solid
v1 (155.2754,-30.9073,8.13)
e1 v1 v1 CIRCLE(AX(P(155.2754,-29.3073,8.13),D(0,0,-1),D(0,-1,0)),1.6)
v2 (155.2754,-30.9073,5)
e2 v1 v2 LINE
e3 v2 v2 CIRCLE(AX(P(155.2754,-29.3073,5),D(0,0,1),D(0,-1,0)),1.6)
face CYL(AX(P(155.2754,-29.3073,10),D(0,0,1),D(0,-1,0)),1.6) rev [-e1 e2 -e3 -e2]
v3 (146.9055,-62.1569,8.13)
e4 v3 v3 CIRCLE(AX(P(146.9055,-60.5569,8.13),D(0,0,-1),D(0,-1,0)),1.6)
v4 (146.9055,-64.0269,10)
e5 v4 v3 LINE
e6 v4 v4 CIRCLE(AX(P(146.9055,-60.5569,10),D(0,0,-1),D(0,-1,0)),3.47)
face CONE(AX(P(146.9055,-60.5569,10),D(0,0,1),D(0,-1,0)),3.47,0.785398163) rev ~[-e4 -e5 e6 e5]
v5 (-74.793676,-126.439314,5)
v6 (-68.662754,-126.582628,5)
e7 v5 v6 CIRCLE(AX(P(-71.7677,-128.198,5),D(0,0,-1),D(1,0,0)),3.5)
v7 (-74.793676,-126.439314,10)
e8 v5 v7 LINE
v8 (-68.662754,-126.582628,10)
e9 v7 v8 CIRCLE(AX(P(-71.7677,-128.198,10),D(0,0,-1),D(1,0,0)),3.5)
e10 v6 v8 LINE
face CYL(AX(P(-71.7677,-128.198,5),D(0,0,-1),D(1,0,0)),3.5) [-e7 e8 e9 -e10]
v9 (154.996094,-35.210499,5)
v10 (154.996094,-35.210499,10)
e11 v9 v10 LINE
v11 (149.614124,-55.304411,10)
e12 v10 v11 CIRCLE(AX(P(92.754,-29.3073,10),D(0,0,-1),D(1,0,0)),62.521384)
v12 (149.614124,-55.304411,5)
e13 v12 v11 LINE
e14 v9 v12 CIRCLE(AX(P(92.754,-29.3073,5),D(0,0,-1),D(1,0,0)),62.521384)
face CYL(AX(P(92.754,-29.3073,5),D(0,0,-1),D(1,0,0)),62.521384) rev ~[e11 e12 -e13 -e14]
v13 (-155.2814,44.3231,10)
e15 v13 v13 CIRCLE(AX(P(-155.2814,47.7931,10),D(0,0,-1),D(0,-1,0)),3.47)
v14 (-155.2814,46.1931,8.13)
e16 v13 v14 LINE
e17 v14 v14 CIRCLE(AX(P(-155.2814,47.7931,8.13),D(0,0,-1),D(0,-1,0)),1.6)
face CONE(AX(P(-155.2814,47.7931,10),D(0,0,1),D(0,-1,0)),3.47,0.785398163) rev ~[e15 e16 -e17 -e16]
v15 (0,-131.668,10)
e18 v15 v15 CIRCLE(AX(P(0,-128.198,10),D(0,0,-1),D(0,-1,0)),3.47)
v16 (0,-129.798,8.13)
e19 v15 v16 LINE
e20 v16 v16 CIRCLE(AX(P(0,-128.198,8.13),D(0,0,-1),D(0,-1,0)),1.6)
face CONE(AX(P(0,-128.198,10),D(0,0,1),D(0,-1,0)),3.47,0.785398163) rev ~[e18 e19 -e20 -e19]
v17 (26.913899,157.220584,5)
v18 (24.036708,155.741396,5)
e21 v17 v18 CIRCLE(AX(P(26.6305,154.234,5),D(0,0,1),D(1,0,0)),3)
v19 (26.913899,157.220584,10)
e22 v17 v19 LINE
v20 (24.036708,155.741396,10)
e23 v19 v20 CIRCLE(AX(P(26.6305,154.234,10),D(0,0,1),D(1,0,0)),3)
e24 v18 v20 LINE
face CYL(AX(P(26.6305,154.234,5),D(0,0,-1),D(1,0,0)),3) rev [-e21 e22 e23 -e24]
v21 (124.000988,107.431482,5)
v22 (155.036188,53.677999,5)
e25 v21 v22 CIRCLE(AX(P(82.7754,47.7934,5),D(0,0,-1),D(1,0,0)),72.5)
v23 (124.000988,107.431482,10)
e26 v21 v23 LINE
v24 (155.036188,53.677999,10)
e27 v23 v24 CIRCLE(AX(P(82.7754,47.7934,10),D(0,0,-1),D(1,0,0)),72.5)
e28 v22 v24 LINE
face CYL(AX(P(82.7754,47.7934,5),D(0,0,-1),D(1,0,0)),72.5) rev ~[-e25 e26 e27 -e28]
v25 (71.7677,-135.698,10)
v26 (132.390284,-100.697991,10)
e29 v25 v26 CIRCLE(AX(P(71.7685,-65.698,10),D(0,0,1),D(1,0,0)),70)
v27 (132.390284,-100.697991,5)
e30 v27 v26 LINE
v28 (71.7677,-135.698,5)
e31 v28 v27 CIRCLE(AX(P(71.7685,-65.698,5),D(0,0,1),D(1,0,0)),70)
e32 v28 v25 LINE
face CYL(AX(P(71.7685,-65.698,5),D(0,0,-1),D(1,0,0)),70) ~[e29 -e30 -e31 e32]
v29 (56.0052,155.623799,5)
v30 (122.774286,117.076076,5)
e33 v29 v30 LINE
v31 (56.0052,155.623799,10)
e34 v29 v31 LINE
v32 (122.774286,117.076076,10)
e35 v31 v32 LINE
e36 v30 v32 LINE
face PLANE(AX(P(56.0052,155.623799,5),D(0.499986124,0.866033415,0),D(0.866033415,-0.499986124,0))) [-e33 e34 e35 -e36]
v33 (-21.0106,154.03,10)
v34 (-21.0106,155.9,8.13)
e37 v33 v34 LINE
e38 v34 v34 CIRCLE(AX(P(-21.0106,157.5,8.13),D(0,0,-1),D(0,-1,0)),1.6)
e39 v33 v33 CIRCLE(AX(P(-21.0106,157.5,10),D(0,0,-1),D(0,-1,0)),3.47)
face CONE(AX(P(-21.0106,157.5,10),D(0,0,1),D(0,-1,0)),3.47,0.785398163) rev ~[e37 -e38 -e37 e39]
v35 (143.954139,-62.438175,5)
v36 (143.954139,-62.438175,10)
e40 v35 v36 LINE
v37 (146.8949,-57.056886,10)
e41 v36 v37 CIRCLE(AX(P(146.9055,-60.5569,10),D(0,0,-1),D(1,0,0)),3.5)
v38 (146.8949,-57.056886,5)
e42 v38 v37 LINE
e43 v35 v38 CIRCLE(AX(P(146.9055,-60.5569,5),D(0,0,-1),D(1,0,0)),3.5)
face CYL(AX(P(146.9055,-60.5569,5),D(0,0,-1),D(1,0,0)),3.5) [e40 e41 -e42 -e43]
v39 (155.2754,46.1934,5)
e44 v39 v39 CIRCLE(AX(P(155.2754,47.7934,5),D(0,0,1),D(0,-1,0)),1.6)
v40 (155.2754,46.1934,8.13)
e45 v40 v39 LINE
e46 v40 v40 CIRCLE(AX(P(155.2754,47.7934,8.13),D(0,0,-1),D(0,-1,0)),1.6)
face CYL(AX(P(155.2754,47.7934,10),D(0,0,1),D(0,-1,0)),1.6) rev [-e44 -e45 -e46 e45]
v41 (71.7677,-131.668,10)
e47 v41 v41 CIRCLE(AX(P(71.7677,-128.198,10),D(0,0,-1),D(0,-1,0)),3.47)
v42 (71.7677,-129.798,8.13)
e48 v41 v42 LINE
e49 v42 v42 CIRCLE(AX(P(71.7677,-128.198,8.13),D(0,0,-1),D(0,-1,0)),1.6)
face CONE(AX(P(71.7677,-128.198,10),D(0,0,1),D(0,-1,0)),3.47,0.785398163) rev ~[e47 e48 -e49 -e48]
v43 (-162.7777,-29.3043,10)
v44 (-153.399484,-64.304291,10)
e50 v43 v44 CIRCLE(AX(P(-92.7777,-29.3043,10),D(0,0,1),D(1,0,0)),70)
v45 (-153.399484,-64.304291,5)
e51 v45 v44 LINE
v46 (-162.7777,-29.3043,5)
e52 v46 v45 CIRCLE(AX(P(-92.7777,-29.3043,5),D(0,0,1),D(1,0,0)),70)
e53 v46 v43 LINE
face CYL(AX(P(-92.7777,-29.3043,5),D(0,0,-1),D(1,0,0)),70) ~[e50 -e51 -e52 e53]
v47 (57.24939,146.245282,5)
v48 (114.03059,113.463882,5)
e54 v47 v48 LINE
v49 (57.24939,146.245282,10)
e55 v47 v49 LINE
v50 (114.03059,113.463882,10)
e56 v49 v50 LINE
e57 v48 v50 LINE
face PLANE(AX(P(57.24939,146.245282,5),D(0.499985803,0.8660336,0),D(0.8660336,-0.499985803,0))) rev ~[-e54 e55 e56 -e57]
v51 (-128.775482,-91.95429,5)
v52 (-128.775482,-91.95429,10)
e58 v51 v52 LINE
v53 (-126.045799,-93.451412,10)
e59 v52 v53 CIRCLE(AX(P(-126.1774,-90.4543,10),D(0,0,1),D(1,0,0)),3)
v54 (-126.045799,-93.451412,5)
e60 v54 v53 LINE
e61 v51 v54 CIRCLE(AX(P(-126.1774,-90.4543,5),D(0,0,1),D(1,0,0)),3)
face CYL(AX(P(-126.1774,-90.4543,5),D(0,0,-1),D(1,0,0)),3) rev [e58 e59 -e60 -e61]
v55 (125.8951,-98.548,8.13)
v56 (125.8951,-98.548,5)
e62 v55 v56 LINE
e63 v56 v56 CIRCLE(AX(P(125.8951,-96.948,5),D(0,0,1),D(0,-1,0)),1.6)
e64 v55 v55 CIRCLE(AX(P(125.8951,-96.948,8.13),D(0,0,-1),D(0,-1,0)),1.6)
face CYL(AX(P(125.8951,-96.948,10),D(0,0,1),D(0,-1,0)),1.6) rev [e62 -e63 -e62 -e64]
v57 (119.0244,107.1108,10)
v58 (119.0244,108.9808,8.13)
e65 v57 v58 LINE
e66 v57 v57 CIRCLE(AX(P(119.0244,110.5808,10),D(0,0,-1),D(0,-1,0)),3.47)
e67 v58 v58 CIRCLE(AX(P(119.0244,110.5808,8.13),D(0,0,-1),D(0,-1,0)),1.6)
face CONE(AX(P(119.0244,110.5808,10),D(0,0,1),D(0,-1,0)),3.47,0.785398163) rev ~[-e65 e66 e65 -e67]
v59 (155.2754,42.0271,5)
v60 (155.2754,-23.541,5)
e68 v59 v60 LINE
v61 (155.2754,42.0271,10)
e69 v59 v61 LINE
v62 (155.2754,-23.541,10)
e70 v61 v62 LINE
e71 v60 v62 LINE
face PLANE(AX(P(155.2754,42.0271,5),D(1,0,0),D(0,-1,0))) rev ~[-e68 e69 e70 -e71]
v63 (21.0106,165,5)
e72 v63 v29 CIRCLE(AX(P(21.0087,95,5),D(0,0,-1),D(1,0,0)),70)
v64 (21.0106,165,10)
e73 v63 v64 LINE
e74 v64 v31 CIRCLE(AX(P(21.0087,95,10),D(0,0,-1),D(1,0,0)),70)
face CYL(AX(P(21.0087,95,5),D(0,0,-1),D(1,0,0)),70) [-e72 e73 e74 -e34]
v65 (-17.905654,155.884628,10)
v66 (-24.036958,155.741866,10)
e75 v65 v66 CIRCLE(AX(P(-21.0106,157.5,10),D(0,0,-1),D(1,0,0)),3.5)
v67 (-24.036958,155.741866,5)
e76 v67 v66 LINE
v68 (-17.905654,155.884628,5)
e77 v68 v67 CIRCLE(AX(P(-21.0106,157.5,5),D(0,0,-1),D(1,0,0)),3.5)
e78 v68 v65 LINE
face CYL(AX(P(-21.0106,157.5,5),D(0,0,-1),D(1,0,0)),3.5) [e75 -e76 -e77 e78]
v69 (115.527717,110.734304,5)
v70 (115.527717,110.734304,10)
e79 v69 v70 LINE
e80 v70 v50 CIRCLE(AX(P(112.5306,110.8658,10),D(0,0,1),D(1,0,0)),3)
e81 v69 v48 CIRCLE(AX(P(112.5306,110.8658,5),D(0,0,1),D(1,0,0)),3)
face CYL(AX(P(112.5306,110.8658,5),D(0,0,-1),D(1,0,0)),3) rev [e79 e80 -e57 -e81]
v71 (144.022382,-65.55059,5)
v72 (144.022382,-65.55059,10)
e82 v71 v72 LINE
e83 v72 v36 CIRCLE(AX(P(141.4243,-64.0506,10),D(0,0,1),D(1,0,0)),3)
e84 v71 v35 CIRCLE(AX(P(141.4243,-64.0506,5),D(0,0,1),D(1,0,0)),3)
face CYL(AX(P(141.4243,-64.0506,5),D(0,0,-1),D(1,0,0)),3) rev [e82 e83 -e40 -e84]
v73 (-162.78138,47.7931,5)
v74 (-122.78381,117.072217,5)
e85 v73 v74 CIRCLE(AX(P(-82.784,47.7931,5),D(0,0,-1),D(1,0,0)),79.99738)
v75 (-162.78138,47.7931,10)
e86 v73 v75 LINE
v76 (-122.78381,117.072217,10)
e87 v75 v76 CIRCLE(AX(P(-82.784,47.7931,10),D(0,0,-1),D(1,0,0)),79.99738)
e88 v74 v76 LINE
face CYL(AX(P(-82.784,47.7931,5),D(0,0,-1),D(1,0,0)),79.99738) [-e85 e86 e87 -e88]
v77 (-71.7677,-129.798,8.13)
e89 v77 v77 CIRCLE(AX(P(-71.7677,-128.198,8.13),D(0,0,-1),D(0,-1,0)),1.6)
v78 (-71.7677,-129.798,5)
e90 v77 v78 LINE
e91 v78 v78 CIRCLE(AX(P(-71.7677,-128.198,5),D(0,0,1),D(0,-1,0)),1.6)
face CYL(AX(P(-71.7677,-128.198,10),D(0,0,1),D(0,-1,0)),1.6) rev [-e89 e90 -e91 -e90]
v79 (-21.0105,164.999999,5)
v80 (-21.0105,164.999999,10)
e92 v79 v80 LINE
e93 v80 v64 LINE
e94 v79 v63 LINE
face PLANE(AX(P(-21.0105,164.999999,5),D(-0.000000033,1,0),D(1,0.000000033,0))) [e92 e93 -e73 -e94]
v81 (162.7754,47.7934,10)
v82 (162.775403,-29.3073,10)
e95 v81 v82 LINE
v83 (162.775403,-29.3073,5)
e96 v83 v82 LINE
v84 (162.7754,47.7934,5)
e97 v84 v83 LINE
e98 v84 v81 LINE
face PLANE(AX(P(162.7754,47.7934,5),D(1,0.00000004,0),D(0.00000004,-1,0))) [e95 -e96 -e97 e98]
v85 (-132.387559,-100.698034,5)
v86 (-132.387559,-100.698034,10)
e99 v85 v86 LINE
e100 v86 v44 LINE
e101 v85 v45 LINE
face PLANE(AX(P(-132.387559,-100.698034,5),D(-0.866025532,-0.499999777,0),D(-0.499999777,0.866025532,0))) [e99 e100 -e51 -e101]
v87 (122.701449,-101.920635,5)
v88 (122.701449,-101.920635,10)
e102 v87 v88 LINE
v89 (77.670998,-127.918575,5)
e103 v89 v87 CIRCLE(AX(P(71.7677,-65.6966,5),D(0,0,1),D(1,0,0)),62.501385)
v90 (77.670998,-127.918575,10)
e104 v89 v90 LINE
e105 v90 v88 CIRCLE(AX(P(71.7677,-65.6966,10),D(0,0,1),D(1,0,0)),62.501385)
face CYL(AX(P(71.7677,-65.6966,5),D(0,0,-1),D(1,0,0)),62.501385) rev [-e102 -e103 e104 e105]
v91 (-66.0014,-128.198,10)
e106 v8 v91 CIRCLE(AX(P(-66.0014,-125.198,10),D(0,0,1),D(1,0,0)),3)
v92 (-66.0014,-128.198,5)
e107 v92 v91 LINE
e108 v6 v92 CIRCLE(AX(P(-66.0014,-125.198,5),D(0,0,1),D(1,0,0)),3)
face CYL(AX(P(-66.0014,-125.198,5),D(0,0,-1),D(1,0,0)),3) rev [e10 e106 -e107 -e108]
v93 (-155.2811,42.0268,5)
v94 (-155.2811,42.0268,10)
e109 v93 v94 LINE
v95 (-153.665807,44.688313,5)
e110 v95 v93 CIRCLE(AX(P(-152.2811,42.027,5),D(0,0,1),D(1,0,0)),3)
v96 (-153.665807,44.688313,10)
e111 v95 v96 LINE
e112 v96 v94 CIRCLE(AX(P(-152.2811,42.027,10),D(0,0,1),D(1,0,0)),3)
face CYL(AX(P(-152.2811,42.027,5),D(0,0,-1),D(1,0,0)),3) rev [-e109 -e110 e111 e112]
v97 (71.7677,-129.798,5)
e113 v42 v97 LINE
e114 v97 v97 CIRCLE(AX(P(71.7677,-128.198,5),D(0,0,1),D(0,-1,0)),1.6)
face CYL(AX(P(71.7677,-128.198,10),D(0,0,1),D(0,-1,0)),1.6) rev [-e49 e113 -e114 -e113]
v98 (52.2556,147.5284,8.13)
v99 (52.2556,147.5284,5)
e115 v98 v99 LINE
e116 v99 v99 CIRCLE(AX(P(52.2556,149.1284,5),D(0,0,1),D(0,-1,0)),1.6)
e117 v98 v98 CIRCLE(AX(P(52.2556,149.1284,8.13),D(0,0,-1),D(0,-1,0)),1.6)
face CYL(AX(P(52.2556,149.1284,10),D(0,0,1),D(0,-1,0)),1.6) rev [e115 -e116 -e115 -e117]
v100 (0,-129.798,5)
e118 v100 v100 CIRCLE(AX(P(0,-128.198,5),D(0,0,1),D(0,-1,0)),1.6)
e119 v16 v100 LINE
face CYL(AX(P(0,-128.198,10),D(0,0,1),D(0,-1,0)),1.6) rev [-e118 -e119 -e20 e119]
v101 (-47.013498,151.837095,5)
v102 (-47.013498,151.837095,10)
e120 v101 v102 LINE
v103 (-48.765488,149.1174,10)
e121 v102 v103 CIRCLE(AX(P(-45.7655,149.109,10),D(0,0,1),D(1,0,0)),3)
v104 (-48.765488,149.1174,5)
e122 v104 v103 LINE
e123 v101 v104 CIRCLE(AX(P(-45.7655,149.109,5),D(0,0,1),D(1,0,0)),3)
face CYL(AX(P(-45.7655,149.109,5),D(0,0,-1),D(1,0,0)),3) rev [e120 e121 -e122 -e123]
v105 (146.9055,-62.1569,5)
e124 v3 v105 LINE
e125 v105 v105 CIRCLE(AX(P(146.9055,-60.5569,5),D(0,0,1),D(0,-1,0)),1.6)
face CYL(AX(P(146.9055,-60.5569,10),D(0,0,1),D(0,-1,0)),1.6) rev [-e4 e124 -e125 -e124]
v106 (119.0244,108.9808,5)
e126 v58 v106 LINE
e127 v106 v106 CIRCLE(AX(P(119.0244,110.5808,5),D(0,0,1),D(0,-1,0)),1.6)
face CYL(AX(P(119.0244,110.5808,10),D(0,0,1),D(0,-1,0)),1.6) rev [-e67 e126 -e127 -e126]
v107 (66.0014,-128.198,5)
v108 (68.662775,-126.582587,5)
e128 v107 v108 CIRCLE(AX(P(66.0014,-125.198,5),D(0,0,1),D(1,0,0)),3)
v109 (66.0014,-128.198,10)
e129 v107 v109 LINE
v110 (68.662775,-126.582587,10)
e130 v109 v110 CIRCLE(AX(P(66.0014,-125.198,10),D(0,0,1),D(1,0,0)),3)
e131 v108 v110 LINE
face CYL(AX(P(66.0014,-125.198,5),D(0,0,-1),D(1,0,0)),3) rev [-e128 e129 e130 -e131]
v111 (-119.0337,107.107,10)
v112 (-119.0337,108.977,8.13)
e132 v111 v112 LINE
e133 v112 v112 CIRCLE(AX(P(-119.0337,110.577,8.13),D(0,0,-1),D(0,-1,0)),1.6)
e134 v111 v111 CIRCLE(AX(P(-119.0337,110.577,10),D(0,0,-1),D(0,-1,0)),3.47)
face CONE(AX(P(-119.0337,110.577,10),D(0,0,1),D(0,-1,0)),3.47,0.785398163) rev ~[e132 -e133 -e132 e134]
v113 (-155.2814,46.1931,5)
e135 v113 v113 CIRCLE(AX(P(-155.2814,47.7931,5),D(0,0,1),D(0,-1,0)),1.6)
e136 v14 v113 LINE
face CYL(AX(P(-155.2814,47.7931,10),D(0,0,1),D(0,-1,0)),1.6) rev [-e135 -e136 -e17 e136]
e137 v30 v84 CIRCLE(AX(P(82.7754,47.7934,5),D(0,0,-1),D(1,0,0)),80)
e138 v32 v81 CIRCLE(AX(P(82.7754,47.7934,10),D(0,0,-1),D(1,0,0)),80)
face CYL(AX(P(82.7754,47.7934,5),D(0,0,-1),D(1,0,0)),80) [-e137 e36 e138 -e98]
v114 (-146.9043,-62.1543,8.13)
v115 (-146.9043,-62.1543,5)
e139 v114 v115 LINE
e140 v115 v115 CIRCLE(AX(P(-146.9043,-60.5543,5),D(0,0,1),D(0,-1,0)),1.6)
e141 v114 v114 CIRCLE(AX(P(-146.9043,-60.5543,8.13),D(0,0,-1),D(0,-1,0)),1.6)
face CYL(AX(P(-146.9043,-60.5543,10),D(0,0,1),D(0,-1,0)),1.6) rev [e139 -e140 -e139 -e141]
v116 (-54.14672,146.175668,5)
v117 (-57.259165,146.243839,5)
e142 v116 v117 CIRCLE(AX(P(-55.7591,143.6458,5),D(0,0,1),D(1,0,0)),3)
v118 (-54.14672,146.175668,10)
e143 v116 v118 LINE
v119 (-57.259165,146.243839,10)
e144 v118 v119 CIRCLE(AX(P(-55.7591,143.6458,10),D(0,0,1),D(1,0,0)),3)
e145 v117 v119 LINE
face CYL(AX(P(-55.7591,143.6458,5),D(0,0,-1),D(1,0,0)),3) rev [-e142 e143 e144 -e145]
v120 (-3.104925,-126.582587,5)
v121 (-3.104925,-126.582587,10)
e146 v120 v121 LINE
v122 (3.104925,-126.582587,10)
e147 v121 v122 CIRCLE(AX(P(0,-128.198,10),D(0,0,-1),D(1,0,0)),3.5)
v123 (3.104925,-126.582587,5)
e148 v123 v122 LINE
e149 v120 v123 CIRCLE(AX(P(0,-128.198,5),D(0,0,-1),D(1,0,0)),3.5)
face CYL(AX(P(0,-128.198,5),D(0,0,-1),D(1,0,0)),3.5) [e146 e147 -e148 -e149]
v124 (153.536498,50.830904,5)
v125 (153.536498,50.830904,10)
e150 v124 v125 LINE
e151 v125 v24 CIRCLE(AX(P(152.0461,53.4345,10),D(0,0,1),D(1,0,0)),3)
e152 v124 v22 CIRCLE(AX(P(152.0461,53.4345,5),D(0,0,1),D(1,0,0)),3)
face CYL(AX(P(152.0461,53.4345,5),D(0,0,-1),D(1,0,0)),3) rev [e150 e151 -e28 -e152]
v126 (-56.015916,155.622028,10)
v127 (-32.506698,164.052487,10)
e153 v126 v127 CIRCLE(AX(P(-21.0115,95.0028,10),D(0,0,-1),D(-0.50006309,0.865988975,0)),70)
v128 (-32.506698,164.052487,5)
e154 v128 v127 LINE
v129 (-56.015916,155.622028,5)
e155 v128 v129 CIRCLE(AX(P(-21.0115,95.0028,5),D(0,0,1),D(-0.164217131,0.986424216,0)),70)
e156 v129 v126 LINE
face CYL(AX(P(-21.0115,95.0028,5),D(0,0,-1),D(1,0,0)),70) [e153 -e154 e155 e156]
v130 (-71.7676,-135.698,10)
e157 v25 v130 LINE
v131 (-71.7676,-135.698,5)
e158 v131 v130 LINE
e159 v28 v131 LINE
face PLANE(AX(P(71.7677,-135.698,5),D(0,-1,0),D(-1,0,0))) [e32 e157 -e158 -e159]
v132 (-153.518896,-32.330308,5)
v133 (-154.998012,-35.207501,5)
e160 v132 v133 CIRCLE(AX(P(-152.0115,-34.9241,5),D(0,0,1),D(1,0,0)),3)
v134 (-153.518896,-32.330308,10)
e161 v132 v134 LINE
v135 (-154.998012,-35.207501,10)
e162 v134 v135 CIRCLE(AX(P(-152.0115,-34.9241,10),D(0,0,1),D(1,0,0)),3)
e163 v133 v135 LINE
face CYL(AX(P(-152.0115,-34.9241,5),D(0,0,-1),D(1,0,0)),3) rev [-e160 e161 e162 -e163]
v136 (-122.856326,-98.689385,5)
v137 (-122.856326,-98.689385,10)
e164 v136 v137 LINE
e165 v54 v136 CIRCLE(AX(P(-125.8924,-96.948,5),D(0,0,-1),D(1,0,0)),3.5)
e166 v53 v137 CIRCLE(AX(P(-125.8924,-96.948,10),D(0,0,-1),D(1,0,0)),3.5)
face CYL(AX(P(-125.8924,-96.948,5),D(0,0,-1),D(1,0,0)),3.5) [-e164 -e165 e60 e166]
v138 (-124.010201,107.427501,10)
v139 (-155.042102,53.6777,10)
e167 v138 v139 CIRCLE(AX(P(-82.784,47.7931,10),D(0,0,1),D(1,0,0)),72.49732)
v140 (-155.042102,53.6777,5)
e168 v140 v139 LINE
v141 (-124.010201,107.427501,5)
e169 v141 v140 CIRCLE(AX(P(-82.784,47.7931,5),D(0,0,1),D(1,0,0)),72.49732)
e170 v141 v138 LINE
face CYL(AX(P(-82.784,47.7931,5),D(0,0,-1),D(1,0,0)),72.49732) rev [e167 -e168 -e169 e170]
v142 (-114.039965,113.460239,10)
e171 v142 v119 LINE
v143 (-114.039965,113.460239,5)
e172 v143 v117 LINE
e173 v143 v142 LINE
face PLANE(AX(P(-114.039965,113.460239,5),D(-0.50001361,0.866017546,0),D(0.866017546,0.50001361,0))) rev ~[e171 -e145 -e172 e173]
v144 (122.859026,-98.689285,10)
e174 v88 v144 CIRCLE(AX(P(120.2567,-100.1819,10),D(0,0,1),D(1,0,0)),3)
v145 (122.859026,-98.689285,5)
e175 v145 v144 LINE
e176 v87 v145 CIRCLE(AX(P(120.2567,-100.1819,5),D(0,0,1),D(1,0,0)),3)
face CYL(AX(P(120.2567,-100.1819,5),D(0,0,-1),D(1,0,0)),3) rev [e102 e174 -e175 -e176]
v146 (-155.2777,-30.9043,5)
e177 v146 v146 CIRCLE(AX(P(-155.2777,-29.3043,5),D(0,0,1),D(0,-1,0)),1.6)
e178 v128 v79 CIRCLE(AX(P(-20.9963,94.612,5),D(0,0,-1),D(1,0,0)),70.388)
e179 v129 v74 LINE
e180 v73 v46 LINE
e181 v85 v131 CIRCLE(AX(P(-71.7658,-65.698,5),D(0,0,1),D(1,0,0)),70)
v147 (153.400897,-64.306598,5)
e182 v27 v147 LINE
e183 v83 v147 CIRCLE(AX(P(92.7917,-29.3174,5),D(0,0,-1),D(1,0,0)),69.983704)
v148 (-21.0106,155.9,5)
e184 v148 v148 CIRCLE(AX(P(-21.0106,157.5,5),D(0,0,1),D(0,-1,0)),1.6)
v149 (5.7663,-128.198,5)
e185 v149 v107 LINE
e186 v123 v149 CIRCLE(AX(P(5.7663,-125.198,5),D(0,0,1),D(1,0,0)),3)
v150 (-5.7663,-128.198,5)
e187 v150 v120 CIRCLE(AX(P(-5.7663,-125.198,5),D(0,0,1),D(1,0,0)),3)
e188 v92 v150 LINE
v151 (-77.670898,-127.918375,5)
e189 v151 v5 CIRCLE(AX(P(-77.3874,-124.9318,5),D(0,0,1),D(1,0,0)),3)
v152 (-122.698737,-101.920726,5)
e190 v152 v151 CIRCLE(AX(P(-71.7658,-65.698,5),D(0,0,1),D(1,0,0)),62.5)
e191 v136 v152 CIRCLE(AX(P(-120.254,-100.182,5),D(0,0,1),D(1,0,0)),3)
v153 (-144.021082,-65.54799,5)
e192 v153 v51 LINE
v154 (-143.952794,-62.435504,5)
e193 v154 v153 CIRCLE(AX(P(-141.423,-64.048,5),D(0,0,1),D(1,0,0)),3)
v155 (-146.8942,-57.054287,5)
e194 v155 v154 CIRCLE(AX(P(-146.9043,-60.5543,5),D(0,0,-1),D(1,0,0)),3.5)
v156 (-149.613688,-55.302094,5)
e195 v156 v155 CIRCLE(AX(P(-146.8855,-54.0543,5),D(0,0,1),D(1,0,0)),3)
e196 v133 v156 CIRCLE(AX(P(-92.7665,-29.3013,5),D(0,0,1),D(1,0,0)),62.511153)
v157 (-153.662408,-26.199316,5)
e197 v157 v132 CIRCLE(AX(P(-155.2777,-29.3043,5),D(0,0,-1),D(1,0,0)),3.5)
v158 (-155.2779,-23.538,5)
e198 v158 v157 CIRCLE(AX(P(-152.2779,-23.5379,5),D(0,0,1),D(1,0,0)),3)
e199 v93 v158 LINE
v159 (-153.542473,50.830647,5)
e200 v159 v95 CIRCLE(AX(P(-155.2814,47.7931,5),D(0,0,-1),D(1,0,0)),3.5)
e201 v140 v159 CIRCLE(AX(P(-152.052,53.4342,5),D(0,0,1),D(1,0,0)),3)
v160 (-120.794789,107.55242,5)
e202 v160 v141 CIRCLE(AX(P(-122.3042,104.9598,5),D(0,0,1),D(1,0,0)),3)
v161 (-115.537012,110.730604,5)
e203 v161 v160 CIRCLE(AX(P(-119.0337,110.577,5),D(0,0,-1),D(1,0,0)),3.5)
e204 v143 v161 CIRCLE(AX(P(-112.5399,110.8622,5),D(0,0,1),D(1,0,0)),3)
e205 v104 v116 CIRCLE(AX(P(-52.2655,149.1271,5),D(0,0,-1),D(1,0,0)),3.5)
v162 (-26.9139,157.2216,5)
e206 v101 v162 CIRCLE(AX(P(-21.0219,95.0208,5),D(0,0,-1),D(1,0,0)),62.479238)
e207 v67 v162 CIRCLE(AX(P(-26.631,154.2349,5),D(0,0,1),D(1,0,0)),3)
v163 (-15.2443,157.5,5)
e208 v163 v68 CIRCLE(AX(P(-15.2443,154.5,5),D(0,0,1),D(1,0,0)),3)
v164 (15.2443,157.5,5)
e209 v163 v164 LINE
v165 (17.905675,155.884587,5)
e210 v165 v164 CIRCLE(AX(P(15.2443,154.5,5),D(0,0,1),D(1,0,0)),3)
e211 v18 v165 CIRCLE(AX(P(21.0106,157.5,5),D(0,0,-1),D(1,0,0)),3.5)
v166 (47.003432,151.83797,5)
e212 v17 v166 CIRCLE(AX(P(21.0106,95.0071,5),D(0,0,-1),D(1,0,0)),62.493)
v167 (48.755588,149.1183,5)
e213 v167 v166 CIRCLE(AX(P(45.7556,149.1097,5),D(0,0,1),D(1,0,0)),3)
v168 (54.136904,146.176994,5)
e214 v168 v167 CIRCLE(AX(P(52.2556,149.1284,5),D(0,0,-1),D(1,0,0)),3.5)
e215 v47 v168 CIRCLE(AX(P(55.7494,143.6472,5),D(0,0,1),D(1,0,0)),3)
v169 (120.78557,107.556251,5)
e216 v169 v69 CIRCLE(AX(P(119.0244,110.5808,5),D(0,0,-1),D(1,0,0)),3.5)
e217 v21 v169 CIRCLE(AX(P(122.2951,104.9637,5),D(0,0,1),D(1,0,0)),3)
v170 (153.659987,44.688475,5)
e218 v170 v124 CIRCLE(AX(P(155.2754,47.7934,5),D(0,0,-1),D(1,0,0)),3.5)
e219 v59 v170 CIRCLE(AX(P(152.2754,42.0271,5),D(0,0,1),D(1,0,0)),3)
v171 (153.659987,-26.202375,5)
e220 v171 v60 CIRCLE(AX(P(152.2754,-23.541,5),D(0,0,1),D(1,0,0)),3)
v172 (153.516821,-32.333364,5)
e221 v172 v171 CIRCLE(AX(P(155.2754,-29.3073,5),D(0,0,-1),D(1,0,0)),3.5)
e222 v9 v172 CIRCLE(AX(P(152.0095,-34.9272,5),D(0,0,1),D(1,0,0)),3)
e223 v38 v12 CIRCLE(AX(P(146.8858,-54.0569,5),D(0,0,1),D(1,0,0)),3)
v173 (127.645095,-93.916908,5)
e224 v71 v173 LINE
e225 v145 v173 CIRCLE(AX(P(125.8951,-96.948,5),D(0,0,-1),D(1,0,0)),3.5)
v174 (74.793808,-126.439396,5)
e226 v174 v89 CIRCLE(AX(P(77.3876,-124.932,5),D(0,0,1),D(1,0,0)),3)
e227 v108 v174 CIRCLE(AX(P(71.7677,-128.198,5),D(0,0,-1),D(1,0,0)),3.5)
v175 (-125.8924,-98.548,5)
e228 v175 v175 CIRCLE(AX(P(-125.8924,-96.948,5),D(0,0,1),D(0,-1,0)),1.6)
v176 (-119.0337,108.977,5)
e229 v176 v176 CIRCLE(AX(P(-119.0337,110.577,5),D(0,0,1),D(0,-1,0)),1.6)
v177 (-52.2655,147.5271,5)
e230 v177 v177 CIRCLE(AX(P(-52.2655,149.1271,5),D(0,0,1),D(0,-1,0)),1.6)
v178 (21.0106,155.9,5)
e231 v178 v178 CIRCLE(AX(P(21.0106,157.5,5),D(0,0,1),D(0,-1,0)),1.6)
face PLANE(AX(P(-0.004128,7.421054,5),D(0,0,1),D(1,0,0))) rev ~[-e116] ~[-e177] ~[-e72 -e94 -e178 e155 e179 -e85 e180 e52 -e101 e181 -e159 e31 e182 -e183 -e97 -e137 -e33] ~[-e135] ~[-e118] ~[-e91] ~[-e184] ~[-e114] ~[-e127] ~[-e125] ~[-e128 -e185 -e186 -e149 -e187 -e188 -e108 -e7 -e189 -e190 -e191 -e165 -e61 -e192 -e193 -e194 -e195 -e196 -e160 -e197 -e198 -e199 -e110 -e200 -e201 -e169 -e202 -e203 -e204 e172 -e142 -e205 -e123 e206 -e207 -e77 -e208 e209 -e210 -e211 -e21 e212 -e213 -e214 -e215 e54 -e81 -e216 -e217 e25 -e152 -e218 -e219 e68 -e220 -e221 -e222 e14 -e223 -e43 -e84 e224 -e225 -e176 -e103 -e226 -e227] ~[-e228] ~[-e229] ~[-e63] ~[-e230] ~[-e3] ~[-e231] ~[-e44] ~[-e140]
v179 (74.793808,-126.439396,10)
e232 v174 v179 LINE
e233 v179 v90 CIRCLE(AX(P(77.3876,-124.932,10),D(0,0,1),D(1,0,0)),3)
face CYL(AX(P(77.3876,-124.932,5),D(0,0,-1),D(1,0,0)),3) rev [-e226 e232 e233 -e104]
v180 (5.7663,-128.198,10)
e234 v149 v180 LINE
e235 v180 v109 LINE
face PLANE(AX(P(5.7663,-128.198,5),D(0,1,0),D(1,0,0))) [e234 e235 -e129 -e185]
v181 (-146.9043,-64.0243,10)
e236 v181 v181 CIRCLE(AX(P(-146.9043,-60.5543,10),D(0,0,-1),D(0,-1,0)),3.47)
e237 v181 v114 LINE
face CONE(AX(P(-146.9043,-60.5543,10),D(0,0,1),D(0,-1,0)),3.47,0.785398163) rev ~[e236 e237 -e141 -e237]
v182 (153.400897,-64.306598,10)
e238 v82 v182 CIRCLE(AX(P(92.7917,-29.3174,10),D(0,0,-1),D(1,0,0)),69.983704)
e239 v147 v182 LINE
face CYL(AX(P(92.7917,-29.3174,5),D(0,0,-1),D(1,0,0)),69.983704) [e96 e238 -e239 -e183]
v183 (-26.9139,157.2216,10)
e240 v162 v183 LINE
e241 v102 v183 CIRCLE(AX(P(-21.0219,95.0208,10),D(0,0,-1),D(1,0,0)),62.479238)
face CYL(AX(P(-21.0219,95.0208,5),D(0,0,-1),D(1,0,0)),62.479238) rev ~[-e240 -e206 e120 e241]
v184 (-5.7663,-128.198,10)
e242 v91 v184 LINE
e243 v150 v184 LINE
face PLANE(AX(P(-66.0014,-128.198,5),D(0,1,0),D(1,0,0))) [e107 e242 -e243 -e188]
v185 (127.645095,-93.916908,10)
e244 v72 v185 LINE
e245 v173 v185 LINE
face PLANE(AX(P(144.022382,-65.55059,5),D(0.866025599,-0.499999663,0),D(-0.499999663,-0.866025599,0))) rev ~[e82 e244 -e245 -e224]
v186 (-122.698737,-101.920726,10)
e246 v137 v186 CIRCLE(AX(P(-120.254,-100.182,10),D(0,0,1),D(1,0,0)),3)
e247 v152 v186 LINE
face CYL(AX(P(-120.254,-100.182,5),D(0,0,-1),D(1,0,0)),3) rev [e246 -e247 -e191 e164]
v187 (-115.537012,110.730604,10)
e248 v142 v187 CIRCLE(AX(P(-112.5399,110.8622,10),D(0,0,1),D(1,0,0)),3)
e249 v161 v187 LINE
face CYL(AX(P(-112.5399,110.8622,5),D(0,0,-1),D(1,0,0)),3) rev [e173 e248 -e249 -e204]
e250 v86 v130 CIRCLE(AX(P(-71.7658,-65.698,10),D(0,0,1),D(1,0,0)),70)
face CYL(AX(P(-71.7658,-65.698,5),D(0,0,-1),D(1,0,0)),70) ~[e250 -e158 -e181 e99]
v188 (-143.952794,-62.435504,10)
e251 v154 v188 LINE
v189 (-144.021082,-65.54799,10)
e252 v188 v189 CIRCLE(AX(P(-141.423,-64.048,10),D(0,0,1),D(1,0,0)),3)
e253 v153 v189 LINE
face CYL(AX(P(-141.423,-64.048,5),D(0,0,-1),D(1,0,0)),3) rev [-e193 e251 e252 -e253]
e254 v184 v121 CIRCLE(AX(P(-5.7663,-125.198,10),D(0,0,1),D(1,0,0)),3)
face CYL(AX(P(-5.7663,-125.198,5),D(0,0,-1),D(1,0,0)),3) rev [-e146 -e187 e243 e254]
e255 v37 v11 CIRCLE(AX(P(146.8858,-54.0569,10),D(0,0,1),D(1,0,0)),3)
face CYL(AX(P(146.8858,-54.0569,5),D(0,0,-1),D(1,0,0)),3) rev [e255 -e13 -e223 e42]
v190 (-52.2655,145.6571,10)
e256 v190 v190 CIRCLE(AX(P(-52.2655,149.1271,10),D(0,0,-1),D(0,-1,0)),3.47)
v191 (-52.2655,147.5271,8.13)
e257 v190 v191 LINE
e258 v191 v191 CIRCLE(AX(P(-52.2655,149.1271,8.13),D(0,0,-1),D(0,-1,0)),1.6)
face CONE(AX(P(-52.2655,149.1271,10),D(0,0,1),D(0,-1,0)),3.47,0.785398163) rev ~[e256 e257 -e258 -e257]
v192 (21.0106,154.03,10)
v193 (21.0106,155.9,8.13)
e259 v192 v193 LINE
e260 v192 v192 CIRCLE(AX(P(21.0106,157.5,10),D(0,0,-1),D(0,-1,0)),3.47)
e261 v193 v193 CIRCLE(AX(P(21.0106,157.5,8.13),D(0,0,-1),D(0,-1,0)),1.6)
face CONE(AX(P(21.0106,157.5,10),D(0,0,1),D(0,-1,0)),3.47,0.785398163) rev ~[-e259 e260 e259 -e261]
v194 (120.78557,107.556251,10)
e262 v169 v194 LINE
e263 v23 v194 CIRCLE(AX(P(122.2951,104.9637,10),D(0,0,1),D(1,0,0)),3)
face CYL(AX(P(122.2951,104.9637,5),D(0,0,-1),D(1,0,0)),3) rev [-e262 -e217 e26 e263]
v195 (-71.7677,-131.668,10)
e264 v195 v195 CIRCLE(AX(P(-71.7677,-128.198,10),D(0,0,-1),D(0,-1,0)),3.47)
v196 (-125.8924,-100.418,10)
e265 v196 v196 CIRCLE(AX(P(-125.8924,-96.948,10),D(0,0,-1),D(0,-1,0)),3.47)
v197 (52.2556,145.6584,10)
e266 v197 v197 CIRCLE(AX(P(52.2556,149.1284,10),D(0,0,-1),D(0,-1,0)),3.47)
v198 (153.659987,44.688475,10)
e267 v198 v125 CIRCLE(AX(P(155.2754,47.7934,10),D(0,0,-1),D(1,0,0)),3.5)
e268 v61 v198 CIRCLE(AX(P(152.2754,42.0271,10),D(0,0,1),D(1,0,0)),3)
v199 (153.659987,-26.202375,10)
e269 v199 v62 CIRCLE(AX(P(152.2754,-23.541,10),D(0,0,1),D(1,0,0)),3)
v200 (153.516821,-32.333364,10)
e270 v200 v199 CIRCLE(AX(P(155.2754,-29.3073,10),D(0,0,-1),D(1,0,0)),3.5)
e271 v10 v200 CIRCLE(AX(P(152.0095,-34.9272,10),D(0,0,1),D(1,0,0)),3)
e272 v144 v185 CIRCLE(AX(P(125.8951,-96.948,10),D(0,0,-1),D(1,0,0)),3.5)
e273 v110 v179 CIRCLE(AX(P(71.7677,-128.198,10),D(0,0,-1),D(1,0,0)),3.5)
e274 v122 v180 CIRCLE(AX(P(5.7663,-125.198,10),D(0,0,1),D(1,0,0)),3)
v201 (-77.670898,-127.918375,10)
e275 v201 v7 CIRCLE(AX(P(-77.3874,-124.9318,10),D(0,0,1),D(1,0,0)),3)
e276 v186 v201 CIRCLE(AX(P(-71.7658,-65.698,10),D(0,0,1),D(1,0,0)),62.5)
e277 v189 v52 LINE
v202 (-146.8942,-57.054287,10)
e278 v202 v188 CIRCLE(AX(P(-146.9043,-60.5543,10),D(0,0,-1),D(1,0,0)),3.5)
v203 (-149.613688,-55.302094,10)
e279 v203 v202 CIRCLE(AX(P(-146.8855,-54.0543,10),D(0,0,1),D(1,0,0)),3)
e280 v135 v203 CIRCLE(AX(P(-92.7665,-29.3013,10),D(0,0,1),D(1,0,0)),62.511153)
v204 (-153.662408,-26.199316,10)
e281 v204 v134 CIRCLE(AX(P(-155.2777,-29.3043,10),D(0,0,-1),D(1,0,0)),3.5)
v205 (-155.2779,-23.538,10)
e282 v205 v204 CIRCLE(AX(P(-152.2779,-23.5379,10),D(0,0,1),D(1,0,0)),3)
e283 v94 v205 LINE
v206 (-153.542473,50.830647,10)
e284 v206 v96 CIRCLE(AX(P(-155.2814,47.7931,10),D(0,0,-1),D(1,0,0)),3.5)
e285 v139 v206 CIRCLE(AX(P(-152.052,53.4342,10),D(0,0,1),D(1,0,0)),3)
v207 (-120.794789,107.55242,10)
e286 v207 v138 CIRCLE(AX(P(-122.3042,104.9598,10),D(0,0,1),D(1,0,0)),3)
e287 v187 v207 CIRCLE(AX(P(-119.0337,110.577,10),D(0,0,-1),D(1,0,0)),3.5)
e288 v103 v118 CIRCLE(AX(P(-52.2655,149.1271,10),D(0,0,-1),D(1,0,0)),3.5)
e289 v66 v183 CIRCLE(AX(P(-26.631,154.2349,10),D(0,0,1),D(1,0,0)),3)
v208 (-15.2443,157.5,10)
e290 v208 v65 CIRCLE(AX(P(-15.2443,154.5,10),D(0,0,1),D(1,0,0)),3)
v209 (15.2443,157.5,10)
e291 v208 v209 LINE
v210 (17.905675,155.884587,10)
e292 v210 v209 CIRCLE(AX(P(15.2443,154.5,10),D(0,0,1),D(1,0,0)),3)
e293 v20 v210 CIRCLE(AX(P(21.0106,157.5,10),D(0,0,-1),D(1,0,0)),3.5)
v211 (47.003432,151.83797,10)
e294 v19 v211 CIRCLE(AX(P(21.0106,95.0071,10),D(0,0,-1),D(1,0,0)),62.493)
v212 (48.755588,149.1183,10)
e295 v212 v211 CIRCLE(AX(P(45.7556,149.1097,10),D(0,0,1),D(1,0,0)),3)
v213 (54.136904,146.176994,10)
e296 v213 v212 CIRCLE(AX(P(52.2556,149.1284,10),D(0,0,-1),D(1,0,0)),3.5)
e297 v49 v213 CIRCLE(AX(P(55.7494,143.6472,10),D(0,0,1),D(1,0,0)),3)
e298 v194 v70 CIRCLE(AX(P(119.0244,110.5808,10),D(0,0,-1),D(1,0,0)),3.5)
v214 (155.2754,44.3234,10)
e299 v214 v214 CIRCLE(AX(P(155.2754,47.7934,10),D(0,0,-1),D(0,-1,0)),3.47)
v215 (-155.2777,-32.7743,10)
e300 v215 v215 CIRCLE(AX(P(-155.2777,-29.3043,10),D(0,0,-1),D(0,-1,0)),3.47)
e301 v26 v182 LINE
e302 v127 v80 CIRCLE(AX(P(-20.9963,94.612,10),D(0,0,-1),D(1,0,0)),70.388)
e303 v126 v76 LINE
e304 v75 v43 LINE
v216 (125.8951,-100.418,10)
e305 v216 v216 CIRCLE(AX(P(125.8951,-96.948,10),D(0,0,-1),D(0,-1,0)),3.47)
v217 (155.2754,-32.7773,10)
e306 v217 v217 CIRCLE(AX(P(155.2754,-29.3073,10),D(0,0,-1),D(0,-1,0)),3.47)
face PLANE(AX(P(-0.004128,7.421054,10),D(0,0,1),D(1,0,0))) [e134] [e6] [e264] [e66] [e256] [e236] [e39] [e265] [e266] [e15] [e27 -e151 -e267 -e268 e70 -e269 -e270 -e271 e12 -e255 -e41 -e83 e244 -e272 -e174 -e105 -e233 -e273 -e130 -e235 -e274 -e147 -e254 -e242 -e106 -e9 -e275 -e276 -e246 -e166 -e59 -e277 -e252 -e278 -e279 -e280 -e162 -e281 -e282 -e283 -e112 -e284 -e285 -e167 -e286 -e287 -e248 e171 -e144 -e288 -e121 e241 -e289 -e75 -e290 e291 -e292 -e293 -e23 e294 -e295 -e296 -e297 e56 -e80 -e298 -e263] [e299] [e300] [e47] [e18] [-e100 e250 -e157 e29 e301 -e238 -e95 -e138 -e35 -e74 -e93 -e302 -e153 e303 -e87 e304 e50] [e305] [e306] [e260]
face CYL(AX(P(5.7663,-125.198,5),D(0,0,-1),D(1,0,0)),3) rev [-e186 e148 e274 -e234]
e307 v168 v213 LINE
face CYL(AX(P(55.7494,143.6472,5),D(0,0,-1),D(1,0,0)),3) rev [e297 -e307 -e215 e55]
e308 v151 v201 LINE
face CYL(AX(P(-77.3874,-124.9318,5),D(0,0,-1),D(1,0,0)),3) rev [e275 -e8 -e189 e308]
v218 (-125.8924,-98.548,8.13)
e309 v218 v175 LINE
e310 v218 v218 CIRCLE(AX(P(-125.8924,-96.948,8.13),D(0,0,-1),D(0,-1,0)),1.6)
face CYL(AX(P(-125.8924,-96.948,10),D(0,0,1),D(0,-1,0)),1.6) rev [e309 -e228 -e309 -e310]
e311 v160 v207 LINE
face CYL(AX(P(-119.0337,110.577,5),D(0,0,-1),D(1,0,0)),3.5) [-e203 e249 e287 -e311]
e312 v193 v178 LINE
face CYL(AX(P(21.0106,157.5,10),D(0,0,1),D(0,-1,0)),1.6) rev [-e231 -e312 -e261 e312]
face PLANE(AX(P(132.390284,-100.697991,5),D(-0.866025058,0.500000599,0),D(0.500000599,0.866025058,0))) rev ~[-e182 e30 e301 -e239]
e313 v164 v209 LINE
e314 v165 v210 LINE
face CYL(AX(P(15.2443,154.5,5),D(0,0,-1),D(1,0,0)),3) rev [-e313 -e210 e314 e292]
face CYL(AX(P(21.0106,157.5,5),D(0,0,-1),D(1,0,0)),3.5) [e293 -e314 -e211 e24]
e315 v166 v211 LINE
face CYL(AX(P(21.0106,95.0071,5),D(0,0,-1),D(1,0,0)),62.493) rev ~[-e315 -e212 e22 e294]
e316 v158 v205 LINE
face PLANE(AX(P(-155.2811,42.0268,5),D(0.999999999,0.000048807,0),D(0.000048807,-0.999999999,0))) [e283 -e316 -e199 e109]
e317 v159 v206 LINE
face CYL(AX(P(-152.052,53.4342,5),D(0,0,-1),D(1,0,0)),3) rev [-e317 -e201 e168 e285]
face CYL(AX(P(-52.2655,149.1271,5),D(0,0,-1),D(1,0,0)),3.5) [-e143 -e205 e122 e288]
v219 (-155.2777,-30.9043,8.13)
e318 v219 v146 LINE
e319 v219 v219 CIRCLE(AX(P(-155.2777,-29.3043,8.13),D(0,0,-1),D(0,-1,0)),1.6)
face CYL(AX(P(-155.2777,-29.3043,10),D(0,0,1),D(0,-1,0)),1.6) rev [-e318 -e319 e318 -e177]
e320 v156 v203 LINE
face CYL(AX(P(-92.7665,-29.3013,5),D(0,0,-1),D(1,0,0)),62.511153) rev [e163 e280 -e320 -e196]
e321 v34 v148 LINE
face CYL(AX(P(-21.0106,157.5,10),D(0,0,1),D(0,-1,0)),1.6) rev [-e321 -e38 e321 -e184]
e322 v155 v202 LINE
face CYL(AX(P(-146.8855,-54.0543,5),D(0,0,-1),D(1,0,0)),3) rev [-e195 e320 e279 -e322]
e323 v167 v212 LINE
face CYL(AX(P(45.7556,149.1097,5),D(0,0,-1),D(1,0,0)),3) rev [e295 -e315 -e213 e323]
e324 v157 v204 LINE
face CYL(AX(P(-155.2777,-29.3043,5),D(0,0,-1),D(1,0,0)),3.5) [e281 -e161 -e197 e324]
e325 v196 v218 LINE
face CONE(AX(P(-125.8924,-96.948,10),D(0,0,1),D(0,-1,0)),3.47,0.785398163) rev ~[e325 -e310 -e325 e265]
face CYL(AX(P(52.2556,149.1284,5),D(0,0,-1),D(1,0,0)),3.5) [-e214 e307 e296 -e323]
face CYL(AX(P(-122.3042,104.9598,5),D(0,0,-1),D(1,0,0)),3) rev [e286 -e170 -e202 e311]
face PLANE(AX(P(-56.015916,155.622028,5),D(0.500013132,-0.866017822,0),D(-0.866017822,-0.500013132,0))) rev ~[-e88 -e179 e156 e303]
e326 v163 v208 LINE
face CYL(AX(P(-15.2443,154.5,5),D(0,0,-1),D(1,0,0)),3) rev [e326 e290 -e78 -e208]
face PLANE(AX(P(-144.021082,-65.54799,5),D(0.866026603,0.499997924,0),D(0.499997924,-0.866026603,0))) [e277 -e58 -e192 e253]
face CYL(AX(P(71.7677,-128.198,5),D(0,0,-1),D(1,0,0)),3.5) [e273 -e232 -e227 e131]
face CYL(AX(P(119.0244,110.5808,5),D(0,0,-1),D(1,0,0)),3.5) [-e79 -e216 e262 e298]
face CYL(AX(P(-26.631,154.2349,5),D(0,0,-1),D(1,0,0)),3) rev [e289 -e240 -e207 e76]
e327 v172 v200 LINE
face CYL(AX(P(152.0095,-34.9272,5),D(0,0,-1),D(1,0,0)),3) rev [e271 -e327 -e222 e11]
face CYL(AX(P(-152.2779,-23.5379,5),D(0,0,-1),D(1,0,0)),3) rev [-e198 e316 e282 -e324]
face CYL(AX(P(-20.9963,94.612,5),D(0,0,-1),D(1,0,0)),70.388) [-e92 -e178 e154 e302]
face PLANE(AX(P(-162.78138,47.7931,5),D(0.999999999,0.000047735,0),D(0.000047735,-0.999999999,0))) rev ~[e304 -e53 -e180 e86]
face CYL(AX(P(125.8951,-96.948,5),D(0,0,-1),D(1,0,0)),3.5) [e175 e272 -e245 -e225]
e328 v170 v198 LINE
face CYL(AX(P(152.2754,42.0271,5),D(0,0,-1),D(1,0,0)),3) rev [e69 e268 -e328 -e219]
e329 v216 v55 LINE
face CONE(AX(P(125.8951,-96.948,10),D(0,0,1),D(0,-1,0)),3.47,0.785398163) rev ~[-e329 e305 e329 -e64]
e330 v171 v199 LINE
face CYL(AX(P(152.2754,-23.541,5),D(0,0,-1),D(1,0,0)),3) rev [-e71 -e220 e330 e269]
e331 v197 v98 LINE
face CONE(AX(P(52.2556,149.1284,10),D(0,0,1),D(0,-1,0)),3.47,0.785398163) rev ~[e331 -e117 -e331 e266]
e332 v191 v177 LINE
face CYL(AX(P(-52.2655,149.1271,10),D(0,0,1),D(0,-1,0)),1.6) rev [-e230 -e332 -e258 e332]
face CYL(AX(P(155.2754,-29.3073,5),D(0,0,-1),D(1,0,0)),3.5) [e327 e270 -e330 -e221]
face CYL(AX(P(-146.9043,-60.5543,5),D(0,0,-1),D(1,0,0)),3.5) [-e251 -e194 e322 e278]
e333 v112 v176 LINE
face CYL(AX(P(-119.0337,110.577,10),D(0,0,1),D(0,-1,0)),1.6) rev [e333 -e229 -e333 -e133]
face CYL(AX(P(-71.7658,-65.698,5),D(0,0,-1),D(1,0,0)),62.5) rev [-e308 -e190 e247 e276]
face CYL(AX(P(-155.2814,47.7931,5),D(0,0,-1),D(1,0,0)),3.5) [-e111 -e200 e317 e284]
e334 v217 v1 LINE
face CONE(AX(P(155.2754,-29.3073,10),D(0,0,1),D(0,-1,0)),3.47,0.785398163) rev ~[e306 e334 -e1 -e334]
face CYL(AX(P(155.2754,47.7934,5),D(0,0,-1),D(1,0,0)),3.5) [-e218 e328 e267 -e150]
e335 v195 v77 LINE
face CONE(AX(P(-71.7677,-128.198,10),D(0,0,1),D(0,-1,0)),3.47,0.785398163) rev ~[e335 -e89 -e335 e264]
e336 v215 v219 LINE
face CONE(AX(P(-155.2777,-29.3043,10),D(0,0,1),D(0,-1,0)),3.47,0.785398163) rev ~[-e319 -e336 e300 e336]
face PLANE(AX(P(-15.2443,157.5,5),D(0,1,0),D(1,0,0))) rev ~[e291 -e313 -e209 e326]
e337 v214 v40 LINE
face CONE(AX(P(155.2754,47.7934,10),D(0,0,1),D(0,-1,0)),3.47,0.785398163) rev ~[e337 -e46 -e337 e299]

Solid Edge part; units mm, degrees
sketch "Sketch1" plane through (0.0007, 14.651, 5) normal (0, 0, 1) x (1, 0, 0)
  line L0 (-114.0407, 98.8093) -> (-57.2599, 131.5929)
  arc A0 (-54.1474, 131.5247) -> (-57.2599, 131.5929) centre (-55.7598, 128.9948) ccw
  arc A1 (-47.0142, 137.1861) -> (-48.7662, 134.4664) centre (-45.7662, 134.458) ccw
  arc A2 (-47.0142, 137.1861) -> (-26.9146, 142.5706) centre (-21.0226, 80.3698) cw
  arc A3 (-24.0376, 141.0909) -> (-26.9146, 142.5706) centre (-26.6317, 139.5839) ccw
  arc A4 (-15.245, 142.849) -> (-17.9063, 141.2336) centre (-15.245, 139.849) ccw
  line L1 (-15.245, 142.849) -> (15.2436, 142.849)
  arc A5 (17.905, 141.2336) -> (15.2436, 142.849) centre (15.2436, 139.849) ccw
  arc A6 (26.9132, 142.5696) -> (24.036, 141.0904) centre (26.6298, 139.583) ccw
  arc A7 (26.9132, 142.5696) -> (47.0027, 137.1869) centre (21.0099, 80.3561) cw
  arc A8 (48.7549, 134.4673) -> (47.0027, 137.1869) centre (45.7549, 134.4587) ccw
  arc A9 (57.2487, 131.5943) -> (54.1362, 131.526) centre (55.7487, 128.9962) ccw
  line L2 (57.2487, 131.5943) -> (114.0299, 98.8129)
  arc A10 (115.5271, 96.0833) -> (114.0299, 98.8129) centre (112.5299, 96.2148) ccw
  arc A11 (124.0003, 92.7805) -> (120.7849, 92.9052) centre (122.2944, 90.3127) ccw
  arc A12 (124.0003, 92.7805) -> (155.0355, 39.027) centre (82.7747, 33.1424) cw
  arc A13 (153.5358, 36.1799) -> (155.0355, 39.027) centre (152.0454, 38.7835) ccw
  arc A14 (155.2747, 27.3761) -> (153.6593, 30.0375) centre (152.2747, 27.3761) ccw
  line L3 (155.2747, 27.3761) -> (155.2747, -38.192)
  arc A15 (153.6593, -40.8534) -> (155.2747, -38.192) centre (152.2747, -38.192) ccw
  arc A16 (154.9954, -49.8615) -> (153.5161, -46.9844) centre (152.0088, -49.5782) ccw
  arc A17 (154.9954, -49.8615) -> (149.6134, -69.9554) centre (92.7533, -43.9583) cw
  arc A18 (146.8942, -71.7079) -> (149.6134, -69.9554) centre (146.8851, -68.7079) ccw
  arc A19 (144.0217, -80.2016) -> (143.9534, -77.0892) centre (141.4236, -78.7016) ccw
  line L4 (144.0217, -80.2016) -> (127.6444, -108.5679)
  arc A20 (122.7007, -116.5716) -> (122.8583, -113.3403) centre (120.256, -114.8329) ccw
  arc A21 (77.6703, -142.5696) -> (122.7007, -116.5716) centre (71.767, -80.3476) ccw
  arc A22 (74.7931, -141.0904) -> (77.6703, -142.5696) centre (77.3869, -139.583) ccw
  arc A23 (66.0007, -142.849) -> (68.6621, -141.2336) centre (66.0007, -139.849) ccw
  line L5 (5.7656, -142.849) -> (66.0007, -142.849)
  arc A24 (3.1042, -141.2336) -> (5.7656, -142.849) centre (5.7656, -139.849) ccw
  arc A25 (-5.767, -142.849) -> (-3.1056, -141.2336) centre (-5.767, -139.849) ccw
  line L6 (-66.0021, -142.849) -> (-5.767, -142.849)
  arc A26 (-68.6634, -141.2336) -> (-66.0021, -142.849) centre (-66.0021, -139.849) ccw
  arc A27 (-77.6716, -142.5694) -> (-74.7944, -141.0903) centre (-77.3881, -139.5828) ccw
  arc A28 (-122.6994, -116.5717) -> (-77.6716, -142.5694) centre (-71.7665, -80.349) ccw
  arc A29 (-122.857, -113.3404) -> (-122.6994, -116.5717) centre (-120.2547, -114.833) ccw
  arc A30 (-128.7762, -106.6053) -> (-126.0465, -108.1024) centre (-126.1781, -105.1053) ccw
  line L7 (-144.0218, -80.199) -> (-128.7762, -106.6053)
  arc A31 (-143.9535, -77.0865) -> (-144.0218, -80.199) centre (-141.4237, -78.699) ccw
  arc A32 (-149.6144, -69.9531) -> (-146.8949, -71.7053) centre (-146.8862, -68.7053) ccw
  arc A33 (-154.9987, -49.8585) -> (-149.6144, -69.9531) centre (-92.7672, -43.9523) ccw
  arc A34 (-153.5196, -46.9813) -> (-154.9987, -49.8585) centre (-152.0122, -49.5751) ccw
  arc A35 (-155.2786, -38.189) -> (-153.6631, -40.8503) centre (-152.2786, -38.1889) ccw
  line L8 (-155.2818, 27.3758) -> (-155.2786, -38.189)
  arc A36 (-153.6665, 30.0373) -> (-155.2818, 27.3758) centre (-152.2818, 27.376) ccw
  arc A37 (-155.0428, 39.0267) -> (-153.5432, 36.1796) centre (-152.0527, 38.7832) ccw
  arc A38 (-124.0109, 92.7765) -> (-155.0428, 39.0267) centre (-82.7847, 33.1421) ccw
  arc A39 (-120.7955, 92.9014) -> (-124.0109, 92.7765) centre (-122.3049, 90.3088) ccw
  arc A40 (-114.0407, 98.8093) -> (-115.5378, 96.0796) centre (-112.5406, 96.2112) ccw
  arc A41 (-48.7662, 134.4664) -> (-54.1474, 131.5247) centre (-52.2662, 134.4761) cw
  arc A42 (-17.9064, 141.2336) -> (-24.0377, 141.0909) centre (-21.0113, 142.849) cw
  arc A43 (24.036, 141.0904) -> (17.905, 141.2336) centre (21.0099, 142.849) cw
  arc A44 (54.1362, 131.526) -> (48.7549, 134.4673) centre (52.2549, 134.4774) cw
  arc A45 (120.7849, 92.9052) -> (115.5271, 96.0832) centre (119.0237, 95.9298) cw
  arc A46 (153.6593, 30.0375) -> (153.5358, 36.1799) centre (155.2747, 33.1424) cw
  arc A47 (153.5161, -46.9844) -> (153.6593, -40.8534) centre (155.2747, -43.9583) cw
  arc A48 (143.9534, -77.0891) -> (146.8942, -71.7079) centre (146.9048, -75.2079) cw
  arc A49 (122.8584, -113.3404) -> (127.6444, -108.5679) centre (125.8944, -111.599) cw
  arc A50 (68.6621, -141.2336) -> (74.7931, -141.0904) centre (71.767, -142.849) cw
  arc A51 (-3.1056, -141.2336) -> (3.1042, -141.2336) centre (-0.0007, -142.849) cw
  arc A52 (-74.7944, -141.0903) -> (-68.6635, -141.2336) centre (-71.7684, -142.849) cw
  arc A53 (-126.0466, -108.1024) -> (-122.857, -113.3404) centre (-125.8931, -111.599) cw
  arc A54 (-146.8949, -71.7053) -> (-143.9536, -77.0866) centre (-146.905, -75.2053) cw
  arc A55 (-153.6632, -40.8503) -> (-153.5196, -46.9813) centre (-155.2784, -43.9553) cw
  arc A56 (-153.5432, 36.1796) -> (-153.6665, 30.0373) centre (-155.2821, 33.1421) cw
  arc A57 (-115.5377, 96.0796) -> (-120.7955, 92.9014) centre (-119.0344, 95.926) cw
  line L9 (-56.0166, 140.971) -> (-122.7845, 102.4212)
  arc A58 (-162.7821, 33.1421) -> (-122.7845, 102.4212) centre (-82.7847, 33.1421) cw
  line L10 (-162.7821, 33.1421) -> (-162.7784, -43.9553)
  arc A59 (-162.7784, -43.9553) -> (-153.4002, -78.9553) centre (-92.7784, -43.9553) ccw
  line L11 (-132.3882, -115.349) -> (-153.4002, -78.9553)
  arc A60 (-132.3882, -115.349) -> (-71.7683, -150.349) centre (-71.7665, -80.349) ccw
  line L12 (71.767, -150.349) -> (-71.7683, -150.349)
  arc A61 (71.767, -150.349) -> (132.3896, -115.349) centre (71.7678, -80.349) ccw
  line L13 (132.3896, -115.349) -> (153.4002, -78.9576)
  arc A62 (162.7747, -43.9583) -> (153.4002, -78.9576) centre (92.791, -43.9684) cw
  line L14 (162.7747, 33.1424) -> (162.7747, -43.9583)
  arc A63 (122.7736, 102.4251) -> (162.7747, 33.1424) centre (82.7747, 33.1424) cw
  line L15 (56.0045, 140.9728) -> (122.7736, 102.4251)
  arc A64 (21.0099, 150.349) -> (56.0045, 140.9728) centre (21.008, 80.349) cw
  line L16 (-21.0112, 150.349) -> (21.0099, 150.349)
  arc A65 (-32.5074, 149.4015) -> (-21.0112, 150.349) centre (-20.997, 79.961) cw
  arc A66 (-44.641, 146.2432) -> (-32.5074, 149.4015) centre (-21.0122, 80.3518) cw
  arc A67 (-56.0166, 140.971) -> (-44.641, 146.2432) centre (-21.0122, 80.3518) cw
  circle A68 centre (-71.7683, -142.849) radius 1.5
  circle A69 centre (-0.0007, -142.849) radius 1.5
  circle A70 centre (-125.893, -111.599) radius 1.5
  circle A71 centre (-146.905, -75.2053) radius 1.5
  circle A72 centre (-155.2784, -43.9553) radius 1.5
  circle A73 centre (-155.2821, 33.1421) radius 1.5
  circle A74 centre (-119.0344, 95.9261) radius 1.5
  circle A75 centre (-52.2662, 134.4761) radius 1.5
  circle A76 centre (-21.0112, 142.849) radius 1.5
  circle A77 centre (21.0099, 142.849) radius 1.5
  circle A78 centre (52.2549, 134.4774) radius 1.5
  circle A79 centre (119.0237, 95.9298) radius 1.5
  circle A80 centre (155.2747, 33.1424) radius 1.5
  circle A81 centre (155.2747, -43.9583) radius 1.5
  circle A82 centre (146.9048, -75.2079) radius 1.5
  circle A83 centre (125.8944, -111.599) radius 1.5
  circle A84 centre (71.767, -142.849) radius 1.5
extrude "ExtrudedProtrusion_7" add sketch "Sketch1" along normal blind 5
hole "Hole_75" at (52.2556, 149.1284, 10) direction (0, 0, -1) diameter 3.2 end up to next countersink diameter 6.94 countersink angle 90
hole "Hole1" at (21.0106, 157.5, 10) direction (0, 0, -1) diameter 3.2 end up to next countersink diameter 6.94 countersink angle 90
hole "Hole2" at (119.0244, 110.5808, 10) direction (0, 0, -1) diameter 3.2 end up to next countersink diameter 6.94 countersink angle 90
hole "Hole3" at (-21.0106, 157.5, 10) direction (0, 0, -1) diameter 3.2 end up to next countersink diameter 6.94 countersink angle 90
hole "Hole4" at (-52.2655, 149.1271, 10) direction (0, 0, -1) diameter 3.2 end up to next countersink diameter 6.94 countersink angle 90
hole "Hole5" at (-119.0337, 110.577, 10) direction (0, 0, -1) diameter 3.2 end up to next countersink diameter 6.94 countersink angle 90
hole "Hole6" at (-155.2814, 47.7931, 10) direction (0, 0, -1) diameter 3.2 end up to next countersink diameter 6.94 countersink angle 90
hole "Hole7" at (-146.9043, -60.5543, 10) direction (0, 0, -1) diameter 3.2 end up to next countersink diameter 6.94 countersink angle 90
hole "Hole8" at (-155.2777, -29.3043, 10) direction (0, 0, -1) diameter 3.2 end up to next countersink diameter 6.94 countersink angle 90
hole "Hole9" at (-125.8924, -96.948, 10) direction (0, 0, -1) diameter 3.2 end up to next countersink diameter 6.94 countersink angle 90
hole "Hole10" at (-71.7677, -128.198, 10) direction (0, 0, -1) diameter 3.2 end up to next countersink diameter 6.94 countersink angle 90
hole "Hole11" at (0, -128.198, 10) direction (0, 0, -1) diameter 3.2 end up to next countersink diameter 6.94 countersink angle 90
hole "Hole12" at (71.7677, -128.198, 10) direction (0, 0, -1) diameter 3.2 end up to next countersink diameter 6.94 countersink angle 90
hole "Hole13" at (125.8951, -96.948, 10) direction (0, 0, -1) diameter 3.2 end up to next countersink diameter 6.94 countersink angle 90
hole "Hole14" at (146.9055, -60.5569, 10) direction (0, 0, -1) diameter 3.2 end up to next countersink diameter 6.94 countersink angle 90
hole "Hole15" at (155.2754, -29.3073, 10) direction (0, 0, -1) diameter 3.2 end up to next countersink diameter 6.94 countersink angle 90
hole "Hole16" at (155.2754, 47.7934, 10) direction (0, 0, -1) diameter 3.2 end up to next countersink diameter 6.94 countersink angle 90
properties material "Polycarbonate"
